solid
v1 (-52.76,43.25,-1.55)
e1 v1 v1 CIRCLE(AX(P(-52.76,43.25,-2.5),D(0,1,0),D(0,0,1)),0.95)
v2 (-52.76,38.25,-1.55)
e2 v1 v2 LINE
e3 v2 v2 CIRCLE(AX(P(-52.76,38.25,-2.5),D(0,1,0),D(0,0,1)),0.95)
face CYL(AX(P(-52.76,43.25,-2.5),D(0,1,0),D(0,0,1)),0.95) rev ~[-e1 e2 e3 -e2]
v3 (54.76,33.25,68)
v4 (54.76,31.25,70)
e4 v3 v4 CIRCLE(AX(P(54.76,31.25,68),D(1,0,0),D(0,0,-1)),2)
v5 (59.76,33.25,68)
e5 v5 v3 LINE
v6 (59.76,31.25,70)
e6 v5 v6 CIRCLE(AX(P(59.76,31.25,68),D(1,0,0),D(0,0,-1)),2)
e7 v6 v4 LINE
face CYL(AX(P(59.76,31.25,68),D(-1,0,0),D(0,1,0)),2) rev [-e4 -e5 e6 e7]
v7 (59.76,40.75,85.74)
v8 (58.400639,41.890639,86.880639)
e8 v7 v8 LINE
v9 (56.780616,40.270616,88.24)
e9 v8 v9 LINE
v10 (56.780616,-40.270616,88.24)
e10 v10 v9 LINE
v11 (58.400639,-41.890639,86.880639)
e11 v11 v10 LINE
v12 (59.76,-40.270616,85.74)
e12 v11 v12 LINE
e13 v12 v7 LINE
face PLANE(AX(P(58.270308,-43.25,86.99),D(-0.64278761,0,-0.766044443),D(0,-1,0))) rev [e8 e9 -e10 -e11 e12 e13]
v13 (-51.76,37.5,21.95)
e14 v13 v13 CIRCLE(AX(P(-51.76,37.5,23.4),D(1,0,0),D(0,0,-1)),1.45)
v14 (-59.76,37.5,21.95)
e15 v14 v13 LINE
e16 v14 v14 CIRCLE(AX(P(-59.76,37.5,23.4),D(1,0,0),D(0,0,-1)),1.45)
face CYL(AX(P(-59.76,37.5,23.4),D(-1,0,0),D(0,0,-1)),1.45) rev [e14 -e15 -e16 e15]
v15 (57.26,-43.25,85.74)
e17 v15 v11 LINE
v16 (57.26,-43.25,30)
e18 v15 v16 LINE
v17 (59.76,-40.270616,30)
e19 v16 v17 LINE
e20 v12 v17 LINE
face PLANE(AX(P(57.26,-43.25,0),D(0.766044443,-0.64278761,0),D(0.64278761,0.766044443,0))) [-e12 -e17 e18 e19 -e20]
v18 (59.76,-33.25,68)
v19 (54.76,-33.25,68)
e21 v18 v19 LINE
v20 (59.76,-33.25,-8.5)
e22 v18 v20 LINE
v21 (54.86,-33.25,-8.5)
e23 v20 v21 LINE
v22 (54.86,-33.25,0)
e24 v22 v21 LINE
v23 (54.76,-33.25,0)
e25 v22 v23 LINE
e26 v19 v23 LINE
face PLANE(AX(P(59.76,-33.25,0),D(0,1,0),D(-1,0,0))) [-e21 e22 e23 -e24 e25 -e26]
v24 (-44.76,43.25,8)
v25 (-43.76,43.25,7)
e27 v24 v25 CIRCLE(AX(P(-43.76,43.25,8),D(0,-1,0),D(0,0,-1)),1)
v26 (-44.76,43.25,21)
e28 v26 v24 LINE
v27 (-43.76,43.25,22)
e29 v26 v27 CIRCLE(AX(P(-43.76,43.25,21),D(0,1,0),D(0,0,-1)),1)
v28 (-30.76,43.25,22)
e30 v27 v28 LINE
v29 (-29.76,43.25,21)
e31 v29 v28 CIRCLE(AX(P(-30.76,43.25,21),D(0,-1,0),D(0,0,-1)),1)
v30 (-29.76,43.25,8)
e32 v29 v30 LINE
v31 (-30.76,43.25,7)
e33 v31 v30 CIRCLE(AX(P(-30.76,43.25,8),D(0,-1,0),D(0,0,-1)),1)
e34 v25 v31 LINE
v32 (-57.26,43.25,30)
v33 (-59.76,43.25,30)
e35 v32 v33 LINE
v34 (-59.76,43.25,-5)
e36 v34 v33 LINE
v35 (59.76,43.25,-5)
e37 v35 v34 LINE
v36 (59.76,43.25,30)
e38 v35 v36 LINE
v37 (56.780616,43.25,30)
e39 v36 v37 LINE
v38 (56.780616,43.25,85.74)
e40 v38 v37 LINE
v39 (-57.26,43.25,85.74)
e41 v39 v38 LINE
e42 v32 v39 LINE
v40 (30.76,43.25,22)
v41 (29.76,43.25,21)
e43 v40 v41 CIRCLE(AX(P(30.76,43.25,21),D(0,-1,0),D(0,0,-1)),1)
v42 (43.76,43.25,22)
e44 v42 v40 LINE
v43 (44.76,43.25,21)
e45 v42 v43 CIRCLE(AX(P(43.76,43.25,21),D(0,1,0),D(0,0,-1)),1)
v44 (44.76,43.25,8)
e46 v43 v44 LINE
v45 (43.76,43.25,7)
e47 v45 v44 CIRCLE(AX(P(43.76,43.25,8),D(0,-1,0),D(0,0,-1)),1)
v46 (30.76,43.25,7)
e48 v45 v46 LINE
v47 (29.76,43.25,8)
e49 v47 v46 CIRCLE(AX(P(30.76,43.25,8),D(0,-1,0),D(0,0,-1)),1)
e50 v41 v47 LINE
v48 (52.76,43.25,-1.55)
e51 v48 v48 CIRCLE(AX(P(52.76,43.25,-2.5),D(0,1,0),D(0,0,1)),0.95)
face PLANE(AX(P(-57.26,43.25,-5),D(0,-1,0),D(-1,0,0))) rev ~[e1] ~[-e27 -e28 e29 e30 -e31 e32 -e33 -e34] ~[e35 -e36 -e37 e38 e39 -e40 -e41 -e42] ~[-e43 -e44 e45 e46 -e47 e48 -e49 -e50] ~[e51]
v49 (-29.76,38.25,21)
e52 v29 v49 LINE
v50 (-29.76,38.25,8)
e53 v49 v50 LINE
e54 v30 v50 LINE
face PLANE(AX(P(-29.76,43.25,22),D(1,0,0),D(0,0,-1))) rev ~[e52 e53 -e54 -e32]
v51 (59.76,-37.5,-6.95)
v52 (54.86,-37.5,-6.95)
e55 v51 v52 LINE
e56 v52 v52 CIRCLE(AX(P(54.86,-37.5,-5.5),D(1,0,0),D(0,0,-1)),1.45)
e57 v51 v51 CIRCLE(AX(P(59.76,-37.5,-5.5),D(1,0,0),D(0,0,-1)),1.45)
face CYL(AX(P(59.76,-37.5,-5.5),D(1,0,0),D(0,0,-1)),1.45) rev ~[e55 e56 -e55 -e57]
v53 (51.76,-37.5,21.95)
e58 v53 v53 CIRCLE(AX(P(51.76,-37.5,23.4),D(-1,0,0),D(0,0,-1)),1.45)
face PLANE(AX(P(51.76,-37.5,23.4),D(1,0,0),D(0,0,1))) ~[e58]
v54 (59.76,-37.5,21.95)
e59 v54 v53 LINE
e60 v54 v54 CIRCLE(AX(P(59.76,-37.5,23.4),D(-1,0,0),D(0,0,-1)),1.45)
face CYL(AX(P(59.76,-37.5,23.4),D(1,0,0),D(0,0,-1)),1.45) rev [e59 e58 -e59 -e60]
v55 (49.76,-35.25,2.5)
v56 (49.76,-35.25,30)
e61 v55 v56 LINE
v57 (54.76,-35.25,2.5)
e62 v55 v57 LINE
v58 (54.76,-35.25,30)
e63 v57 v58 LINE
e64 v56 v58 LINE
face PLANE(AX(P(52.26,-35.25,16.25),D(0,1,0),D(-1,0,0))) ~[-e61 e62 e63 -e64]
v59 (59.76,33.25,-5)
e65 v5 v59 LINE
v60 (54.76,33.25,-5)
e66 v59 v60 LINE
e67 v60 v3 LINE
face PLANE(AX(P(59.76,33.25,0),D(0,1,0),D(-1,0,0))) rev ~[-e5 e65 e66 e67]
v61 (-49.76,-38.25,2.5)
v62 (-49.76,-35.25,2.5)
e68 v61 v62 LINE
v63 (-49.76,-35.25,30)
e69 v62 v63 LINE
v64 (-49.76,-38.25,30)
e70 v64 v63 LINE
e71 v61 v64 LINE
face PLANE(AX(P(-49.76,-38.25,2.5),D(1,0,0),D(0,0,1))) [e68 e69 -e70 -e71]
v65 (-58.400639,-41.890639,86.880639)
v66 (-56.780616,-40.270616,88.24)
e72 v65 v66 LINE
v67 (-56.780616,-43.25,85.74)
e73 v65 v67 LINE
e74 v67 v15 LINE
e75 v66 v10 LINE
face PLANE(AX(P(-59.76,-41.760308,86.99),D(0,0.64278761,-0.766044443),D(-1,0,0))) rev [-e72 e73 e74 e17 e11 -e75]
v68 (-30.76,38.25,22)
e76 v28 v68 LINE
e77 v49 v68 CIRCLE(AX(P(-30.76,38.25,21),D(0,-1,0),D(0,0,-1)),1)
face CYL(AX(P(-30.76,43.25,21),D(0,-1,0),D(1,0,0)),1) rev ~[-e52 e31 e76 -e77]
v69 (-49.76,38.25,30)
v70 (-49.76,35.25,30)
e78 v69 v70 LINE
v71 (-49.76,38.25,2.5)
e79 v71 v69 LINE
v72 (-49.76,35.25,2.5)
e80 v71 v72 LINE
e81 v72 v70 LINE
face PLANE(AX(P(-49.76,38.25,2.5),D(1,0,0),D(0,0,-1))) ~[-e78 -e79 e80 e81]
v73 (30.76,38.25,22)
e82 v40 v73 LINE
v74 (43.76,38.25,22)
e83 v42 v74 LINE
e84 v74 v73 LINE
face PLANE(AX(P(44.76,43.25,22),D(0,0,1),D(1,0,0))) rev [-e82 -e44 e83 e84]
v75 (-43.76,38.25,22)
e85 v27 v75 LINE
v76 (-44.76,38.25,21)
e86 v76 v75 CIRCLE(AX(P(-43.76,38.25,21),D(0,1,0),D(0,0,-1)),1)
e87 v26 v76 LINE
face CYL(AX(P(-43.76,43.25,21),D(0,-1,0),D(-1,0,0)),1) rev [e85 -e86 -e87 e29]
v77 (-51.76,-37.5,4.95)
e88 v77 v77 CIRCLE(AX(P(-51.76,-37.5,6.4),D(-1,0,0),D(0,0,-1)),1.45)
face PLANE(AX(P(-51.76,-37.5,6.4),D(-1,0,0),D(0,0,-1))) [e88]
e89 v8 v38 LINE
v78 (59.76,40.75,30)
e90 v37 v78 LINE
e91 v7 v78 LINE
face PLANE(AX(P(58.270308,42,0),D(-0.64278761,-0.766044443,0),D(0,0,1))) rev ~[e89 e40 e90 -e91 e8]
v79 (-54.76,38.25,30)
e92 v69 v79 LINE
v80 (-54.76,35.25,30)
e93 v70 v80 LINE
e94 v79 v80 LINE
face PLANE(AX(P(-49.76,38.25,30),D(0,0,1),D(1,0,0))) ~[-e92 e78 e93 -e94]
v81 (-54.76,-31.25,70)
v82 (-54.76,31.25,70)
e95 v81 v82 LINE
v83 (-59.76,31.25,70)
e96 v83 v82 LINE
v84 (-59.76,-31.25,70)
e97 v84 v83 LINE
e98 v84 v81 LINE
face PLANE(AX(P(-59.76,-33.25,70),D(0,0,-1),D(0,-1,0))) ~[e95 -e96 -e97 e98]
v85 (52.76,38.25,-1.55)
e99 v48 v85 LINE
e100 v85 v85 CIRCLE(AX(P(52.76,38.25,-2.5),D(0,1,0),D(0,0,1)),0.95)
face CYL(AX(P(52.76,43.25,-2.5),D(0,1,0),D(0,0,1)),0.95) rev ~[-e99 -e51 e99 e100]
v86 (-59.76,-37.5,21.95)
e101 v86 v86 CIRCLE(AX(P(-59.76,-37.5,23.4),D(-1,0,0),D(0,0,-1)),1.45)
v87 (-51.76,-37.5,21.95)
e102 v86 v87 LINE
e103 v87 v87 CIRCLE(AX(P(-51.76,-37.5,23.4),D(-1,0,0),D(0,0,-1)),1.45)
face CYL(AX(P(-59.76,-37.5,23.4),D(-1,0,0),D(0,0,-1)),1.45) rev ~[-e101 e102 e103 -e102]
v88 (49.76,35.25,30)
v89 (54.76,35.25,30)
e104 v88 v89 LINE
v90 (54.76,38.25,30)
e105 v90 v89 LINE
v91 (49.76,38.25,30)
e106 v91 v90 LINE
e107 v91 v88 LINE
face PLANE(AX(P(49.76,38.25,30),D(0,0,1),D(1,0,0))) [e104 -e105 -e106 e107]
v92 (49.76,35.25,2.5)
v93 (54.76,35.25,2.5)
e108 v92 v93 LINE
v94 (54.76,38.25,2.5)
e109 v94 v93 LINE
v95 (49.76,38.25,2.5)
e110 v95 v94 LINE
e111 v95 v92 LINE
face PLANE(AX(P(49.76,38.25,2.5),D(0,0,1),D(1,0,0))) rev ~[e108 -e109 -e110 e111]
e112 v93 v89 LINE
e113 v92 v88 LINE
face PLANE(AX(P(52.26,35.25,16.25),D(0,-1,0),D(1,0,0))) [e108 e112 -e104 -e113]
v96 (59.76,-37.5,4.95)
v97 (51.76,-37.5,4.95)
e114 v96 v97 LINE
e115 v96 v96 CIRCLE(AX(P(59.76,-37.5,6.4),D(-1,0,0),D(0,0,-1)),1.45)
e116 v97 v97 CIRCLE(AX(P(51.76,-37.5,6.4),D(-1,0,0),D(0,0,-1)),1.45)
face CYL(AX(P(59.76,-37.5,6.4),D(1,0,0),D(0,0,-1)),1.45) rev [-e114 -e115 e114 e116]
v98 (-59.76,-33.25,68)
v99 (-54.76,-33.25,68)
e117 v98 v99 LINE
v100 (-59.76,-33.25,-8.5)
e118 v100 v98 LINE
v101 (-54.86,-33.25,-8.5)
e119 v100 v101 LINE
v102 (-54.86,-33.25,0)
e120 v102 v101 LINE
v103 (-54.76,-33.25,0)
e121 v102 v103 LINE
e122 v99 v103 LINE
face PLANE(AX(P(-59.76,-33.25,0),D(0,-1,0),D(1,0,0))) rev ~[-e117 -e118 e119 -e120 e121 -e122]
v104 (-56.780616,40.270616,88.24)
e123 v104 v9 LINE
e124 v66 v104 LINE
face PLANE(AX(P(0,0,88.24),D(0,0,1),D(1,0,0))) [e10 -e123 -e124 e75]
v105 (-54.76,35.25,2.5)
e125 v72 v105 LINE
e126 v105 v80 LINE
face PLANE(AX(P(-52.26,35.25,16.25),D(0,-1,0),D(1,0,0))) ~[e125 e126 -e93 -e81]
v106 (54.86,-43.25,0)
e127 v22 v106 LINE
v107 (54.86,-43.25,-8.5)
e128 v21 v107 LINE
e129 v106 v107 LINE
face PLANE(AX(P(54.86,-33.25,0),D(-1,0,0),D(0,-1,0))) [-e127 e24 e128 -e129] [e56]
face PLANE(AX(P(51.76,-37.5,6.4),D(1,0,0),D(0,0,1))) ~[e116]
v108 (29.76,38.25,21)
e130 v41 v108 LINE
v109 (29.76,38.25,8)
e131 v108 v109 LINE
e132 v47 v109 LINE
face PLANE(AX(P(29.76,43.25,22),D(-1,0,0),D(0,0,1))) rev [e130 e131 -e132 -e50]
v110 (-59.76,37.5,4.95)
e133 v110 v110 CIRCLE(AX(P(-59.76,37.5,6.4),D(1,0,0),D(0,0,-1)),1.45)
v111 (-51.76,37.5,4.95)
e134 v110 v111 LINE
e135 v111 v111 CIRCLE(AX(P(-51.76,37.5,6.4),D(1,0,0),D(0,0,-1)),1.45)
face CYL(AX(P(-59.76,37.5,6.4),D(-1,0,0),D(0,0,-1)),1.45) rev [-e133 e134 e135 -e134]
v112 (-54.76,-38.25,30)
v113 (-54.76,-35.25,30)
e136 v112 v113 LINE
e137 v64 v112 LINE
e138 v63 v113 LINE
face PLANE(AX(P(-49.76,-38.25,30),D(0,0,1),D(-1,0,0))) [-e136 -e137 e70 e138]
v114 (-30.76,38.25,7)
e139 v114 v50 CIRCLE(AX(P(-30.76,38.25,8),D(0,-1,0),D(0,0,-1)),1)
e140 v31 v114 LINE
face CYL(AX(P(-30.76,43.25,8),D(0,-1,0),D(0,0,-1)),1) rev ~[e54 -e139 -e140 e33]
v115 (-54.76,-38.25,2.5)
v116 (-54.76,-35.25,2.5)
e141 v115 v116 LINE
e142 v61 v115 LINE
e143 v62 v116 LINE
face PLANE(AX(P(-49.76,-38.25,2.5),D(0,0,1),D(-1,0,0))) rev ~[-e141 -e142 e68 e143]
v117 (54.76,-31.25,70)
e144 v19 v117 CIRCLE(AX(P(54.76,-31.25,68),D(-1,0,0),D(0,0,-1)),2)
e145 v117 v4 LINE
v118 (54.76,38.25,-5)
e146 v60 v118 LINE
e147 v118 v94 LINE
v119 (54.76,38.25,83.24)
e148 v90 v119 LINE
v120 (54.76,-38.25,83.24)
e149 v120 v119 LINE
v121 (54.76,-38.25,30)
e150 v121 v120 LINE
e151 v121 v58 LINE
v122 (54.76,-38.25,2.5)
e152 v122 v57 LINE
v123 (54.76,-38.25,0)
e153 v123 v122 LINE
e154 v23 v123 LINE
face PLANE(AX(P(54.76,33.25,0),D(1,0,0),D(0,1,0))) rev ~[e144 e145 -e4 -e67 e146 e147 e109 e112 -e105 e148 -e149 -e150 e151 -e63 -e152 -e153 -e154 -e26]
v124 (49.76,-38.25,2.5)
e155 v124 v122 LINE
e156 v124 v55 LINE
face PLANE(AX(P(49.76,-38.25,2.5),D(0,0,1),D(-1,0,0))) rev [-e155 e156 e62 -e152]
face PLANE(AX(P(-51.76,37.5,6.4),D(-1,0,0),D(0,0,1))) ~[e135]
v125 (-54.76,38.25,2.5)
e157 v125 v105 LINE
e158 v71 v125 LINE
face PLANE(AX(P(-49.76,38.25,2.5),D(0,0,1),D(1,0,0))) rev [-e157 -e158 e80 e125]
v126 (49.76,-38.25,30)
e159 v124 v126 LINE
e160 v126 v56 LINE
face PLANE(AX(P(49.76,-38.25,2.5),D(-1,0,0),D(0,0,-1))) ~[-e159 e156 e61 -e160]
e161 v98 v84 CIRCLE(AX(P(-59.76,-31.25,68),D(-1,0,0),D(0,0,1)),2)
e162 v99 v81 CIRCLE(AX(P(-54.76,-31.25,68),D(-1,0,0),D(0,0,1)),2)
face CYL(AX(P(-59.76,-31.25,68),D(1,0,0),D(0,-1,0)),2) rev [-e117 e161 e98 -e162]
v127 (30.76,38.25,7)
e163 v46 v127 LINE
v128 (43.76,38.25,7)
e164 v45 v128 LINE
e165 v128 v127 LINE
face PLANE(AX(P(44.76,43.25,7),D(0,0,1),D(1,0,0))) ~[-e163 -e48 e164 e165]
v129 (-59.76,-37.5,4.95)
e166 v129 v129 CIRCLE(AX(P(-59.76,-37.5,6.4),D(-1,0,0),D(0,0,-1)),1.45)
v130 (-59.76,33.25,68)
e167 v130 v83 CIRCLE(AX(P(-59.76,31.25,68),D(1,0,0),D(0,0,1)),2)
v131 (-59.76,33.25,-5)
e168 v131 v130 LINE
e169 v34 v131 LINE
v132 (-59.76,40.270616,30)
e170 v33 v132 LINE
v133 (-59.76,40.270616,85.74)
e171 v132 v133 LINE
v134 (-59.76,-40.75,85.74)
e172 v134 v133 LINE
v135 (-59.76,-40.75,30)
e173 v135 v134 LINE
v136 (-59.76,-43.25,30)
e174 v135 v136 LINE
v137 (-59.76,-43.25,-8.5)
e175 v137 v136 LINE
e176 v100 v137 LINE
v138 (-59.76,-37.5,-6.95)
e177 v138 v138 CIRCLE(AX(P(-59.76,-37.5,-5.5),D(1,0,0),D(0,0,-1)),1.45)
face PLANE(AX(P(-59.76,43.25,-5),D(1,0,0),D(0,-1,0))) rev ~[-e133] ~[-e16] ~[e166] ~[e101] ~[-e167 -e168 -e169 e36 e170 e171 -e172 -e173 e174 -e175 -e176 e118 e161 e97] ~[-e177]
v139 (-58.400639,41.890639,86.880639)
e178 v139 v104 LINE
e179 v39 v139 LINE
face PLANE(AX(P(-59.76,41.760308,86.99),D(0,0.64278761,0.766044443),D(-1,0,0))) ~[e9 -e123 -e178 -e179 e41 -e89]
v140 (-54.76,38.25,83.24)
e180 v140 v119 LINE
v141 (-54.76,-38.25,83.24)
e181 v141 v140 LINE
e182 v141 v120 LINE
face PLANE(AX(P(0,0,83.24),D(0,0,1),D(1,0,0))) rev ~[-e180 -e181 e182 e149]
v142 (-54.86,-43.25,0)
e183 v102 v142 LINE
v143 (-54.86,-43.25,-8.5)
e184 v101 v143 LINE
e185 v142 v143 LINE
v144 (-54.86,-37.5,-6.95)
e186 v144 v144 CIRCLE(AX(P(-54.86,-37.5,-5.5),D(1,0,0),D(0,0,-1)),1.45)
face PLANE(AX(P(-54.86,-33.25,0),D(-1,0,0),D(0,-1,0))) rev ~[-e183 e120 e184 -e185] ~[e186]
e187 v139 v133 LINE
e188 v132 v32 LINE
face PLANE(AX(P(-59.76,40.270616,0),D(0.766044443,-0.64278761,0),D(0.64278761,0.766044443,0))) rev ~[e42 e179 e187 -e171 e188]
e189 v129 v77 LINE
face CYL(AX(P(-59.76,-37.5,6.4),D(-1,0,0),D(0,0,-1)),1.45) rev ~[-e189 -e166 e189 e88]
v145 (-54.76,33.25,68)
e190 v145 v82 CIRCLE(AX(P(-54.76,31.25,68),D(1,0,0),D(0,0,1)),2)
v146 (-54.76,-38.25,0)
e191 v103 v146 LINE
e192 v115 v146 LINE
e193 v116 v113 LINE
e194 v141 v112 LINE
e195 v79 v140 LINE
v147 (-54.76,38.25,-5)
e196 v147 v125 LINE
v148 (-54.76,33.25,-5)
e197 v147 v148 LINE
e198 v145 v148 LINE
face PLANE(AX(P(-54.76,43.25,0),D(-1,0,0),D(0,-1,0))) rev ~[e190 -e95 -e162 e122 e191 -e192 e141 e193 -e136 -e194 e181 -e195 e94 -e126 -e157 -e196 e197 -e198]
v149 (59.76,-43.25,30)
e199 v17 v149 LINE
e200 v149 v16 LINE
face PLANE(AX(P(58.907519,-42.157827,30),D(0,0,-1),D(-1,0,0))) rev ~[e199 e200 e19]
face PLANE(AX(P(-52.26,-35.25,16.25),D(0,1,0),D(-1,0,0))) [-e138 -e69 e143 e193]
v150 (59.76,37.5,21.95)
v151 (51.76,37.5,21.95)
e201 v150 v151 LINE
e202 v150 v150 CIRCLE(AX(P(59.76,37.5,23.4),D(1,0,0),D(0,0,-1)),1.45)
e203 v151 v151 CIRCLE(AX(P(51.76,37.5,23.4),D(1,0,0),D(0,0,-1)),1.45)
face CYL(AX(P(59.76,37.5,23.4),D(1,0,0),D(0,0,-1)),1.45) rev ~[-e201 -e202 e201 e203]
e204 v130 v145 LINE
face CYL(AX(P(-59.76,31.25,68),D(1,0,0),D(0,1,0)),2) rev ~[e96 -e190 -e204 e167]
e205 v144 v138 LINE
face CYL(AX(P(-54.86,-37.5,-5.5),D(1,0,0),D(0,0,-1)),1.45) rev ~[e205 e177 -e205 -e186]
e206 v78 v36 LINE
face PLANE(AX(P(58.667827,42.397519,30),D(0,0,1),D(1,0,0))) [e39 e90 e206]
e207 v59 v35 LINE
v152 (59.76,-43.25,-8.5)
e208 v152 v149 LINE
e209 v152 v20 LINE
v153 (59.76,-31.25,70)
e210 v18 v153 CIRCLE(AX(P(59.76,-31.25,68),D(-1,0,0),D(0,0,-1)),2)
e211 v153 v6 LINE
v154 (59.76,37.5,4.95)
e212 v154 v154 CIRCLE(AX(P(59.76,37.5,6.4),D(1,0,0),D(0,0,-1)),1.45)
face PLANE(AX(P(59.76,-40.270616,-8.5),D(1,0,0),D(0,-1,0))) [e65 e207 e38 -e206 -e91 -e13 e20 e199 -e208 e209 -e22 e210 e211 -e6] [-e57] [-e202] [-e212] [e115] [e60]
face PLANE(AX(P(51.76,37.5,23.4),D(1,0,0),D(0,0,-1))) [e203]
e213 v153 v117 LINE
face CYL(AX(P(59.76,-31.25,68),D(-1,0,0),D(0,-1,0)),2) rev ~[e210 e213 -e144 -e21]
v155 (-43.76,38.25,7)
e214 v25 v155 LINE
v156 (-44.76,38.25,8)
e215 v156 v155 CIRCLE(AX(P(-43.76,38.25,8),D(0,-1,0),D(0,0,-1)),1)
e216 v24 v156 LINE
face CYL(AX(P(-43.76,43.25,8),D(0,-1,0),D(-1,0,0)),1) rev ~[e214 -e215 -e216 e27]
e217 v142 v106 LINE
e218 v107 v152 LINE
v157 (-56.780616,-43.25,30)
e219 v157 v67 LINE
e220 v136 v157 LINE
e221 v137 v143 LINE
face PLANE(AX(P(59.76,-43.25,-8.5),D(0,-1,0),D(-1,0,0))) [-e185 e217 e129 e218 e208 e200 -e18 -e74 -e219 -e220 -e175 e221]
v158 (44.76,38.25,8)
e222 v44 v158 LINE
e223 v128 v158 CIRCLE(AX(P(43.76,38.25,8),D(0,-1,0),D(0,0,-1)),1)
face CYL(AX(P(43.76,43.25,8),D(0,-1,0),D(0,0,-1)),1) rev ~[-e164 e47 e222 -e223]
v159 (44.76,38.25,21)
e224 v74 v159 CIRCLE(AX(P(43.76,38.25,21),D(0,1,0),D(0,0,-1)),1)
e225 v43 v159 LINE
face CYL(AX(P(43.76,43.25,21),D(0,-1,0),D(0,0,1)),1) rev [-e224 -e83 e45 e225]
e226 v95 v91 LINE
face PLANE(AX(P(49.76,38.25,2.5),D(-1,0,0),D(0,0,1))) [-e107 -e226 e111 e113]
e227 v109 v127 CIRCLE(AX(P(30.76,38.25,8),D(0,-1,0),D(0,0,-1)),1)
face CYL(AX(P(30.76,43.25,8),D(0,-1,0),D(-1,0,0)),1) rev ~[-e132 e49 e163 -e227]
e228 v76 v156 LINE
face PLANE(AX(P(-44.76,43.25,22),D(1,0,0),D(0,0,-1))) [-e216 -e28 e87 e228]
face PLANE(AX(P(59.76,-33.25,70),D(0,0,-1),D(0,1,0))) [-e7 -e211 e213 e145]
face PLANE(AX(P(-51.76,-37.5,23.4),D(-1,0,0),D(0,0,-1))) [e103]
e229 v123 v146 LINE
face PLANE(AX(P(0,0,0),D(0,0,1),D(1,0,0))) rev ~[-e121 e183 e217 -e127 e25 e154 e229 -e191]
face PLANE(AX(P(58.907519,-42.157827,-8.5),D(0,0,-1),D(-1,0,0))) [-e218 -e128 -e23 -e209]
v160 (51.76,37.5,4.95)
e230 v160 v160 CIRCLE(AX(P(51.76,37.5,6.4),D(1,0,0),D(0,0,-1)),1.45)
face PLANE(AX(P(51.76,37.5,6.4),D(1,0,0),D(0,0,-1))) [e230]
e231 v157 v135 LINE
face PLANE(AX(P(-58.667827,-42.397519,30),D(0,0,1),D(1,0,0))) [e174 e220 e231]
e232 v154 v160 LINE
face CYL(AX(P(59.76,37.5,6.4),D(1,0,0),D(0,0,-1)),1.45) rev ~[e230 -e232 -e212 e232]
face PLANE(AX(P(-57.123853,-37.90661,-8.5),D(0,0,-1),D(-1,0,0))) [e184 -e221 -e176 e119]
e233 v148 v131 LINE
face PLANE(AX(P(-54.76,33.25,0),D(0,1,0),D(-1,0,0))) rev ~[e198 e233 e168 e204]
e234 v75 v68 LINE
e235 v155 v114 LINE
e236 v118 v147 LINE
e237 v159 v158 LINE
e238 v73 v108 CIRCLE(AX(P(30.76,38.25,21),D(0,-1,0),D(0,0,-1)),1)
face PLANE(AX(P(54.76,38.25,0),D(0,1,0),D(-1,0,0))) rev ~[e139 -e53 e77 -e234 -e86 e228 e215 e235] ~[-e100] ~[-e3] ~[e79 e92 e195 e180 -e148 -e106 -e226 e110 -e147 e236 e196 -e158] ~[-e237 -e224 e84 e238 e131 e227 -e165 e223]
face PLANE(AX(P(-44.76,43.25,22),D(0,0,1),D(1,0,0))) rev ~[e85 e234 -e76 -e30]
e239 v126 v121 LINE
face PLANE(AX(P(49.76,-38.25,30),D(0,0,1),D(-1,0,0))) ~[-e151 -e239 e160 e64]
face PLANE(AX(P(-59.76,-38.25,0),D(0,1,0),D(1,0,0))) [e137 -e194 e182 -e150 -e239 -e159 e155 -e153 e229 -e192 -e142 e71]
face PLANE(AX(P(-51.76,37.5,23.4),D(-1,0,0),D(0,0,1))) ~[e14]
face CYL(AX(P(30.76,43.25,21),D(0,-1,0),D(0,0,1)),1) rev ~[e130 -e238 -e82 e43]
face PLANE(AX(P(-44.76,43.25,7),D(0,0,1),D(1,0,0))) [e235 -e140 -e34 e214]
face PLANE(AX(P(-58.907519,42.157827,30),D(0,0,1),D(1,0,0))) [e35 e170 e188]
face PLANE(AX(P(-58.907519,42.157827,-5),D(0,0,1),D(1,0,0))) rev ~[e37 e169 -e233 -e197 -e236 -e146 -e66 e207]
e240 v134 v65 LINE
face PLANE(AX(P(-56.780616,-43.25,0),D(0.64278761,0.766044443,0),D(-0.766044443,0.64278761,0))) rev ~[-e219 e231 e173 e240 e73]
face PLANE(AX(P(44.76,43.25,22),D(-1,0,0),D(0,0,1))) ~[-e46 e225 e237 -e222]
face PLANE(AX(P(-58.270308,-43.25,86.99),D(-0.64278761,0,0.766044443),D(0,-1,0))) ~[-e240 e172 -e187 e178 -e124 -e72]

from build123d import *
from OCP.BRepFilletAPI import BRepFilletAPI_MakeChamfer

# Parameters (mm, degrees)
SKETCH1_W                                  = 119.52
SKETCH1_H                                  = 86.5
BOSS_EXTRUDE1_DEPTH                        = 88.24
SHELL1_T                                   = -5
CHAMFER1_SIZE                              = 2.5
CHAMFER1_SIZE2                             = 2.979383981
CHAMFER2_SIZE                              = 2.5
CHAMFER2_SIZE2                             = 2.979383981
CHAMFER3_SIZE                              = 2.5
CHAMFER3_SIZE2                             = 2.979383981
CUT_EXTRUDE1_REACH                         = 156.732
SKETCH3_W                                  = 70
SKETCH3_H                                  = 66.5
FILLET1_R                                  = 2
FILLET1_OF_MIRROR1_R                       = 2
SKETCH4_W                                  = 109.52
SKETCH4_H                                  = 5
BOSS_EXTRUDE2_DEPTH                        = 5
CUT_EXTRUDE2_REACH                         = 139.258
SKETCH5_R                                  = 0.95
BOSS_EXTRUDE3_DEPTH                        = 8.5
BOSS_EXTRUDE4_DEPTH                        = 5
BOSS_EXTRUDE6_DEPTH                        = 35
BOSS_EXTRUDE7_DEPTH                        = 8.5
BOSS_EXTRUDE8_DEPTH                        = 35
BOSS_EXTRUDE9_DEPTH                        = 38.5
SKETCH16_W                                 = 5
SKETCH16_H                                 = 27.5
BOSS_EXTRUDE10_DEPTH                       = 3
MIRROR7_COPY_1_SKETCH_W                    = 5
MIRROR7_COPY_1_SKETCH_H                    = 27.5
MIRROR7_COPY_1_DEPTH                       = 3
SKETCH15_R                                 = 1.45
CUT_EXTRUDE5_DEPTH                         = 8
MIRROR8_AT_THE_SECOND_PLANE_COPY_1_SKETC_R = 1.45
MIRROR8_AT_THE_SECOND_PLANE_COPY_1_DEPTH   = 8
SKETCH17_R                                 = 1.45
CUT_EXTRUDE6_DEPTH                         = 8
SKETCH18_R                                 = 1.45
CUT_EXTRUDE7_DEPTH                         = 8
SKETCH19_W                                 = 15
SKETCH19_H                                 = 15
CUT_EXTRUDE8_DEPTH                         = 5
FILLET2_R                                  = 1
FILLET2_OF_MIRROR10_R                      = 1


with BuildPart() as part:
    # Sketch1 → Boss-Extrude1 (new body)
    with BuildSketch(Plane.XY):
        Rectangle(SKETCH1_W, SKETCH1_H)
    extrude(amount=BOSS_EXTRUDE1_DEPTH)

    # Shell1
    shell1_openings = [part.faces().sort_by_distance(p)[0] for p in [
        (0, 0, 0),
    ]]
    offset(amount=SHELL1_T, openings=shell1_openings, kind=Kind.INTERSECTION)

    # Chamfer1: one chamfer whose edges measure the first distance from different faces: ONE call of the kernel's chamfer builder (chamfer() names one face for all edges)
    chamfer1_edges_1 = [part.edges().sort_by_distance(p)[0] for p in [
        (59.76, 0, 88.24),
    ]]
    chamfer1_side_1 = [part.faces().sort_by_distance(p)[0] for p in [
        (59.76, 0, 44.12),
    ]]
    chamfer1_edges_2 = [part.edges().sort_by_distance(p)[0] for p in [
        (0, 43.25, 88.24),
    ]]
    chamfer1_side_2 = [part.faces().sort_by_distance(p)[0] for p in [
        (0, 43.25, 44.12),
    ]]
    chamfer1_edges_3 = [part.edges().sort_by_distance(p)[0] for p in [
        (-59.76, 0, 88.24),
    ]]
    chamfer1_side_3 = [part.faces().sort_by_distance(p)[0] for p in [
        (-59.76, 0, 44.12),
    ]]
    chamfer1_edges_4 = [part.edges().sort_by_distance(p)[0] for p in [
        (0, -43.25, 88.24),
    ]]
    chamfer1_side_4 = [part.faces().sort_by_distance(p)[0] for p in [
        (0, -43.25, 44.12),
    ]]
    chamfer1 = BRepFilletAPI_MakeChamfer(part.part.solid().wrapped)
    for e in chamfer1_edges_1:
        chamfer1.Add(CHAMFER1_SIZE, CHAMFER1_SIZE2, e.wrapped, chamfer1_side_1[0].wrapped)  # the first distance lies on this face
    for e in chamfer1_edges_2:
        chamfer1.Add(CHAMFER1_SIZE, CHAMFER1_SIZE2, e.wrapped, chamfer1_side_2[0].wrapped)  # the first distance lies on this face
    for e in chamfer1_edges_3:
        chamfer1.Add(CHAMFER1_SIZE, CHAMFER1_SIZE2, e.wrapped, chamfer1_side_3[0].wrapped)  # the first distance lies on this face
    for e in chamfer1_edges_4:
        chamfer1.Add(CHAMFER1_SIZE, CHAMFER1_SIZE2, e.wrapped, chamfer1_side_4[0].wrapped)  # the first distance lies on this face
    add(Compound.cast(chamfer1.Shape()), mode=Mode.REPLACE)

    # Chamfer2
    chamfer2_edges = [part.edges().sort_by_distance(p)[0] for p in [
        (-59.76, 43.25, 42.87),
    ]]
    chamfer2_side = [part.faces().sort_by_distance(p)[0] for p in [
        (0, 43.25, 42.87),
    ]]
    chamfer(chamfer2_edges, length=CHAMFER2_SIZE, length2=CHAMFER2_SIZE2, reference=chamfer2_side[0])

    # Chamfer3: one chamfer whose edges measure the first distance from different faces: ONE call of the kernel's chamfer builder (chamfer() names one face for all edges)
    chamfer3_edges_1 = [part.edges().sort_by_distance(p)[0] for p in [
        (59.76, -43.25, 42.87),
    ]]
    chamfer3_side_1 = [part.faces().sort_by_distance(p)[0] for p in [
        (0, -43.25, 42.87),
    ]]
    chamfer3_edges_2 = [part.edges().sort_by_distance(p)[0] for p in [
        (-59.76, -43.25, 42.87),
    ]]
    chamfer3_side_2 = [part.faces().sort_by_distance(p)[0] for p in [
        (-59.76, -1.489691991, 42.87),
    ]]
    chamfer3_edges_3 = [part.edges().sort_by_distance(p)[0] for p in [
        (59.76, 43.25, 42.87),
    ]]
    chamfer3_side_3 = [part.faces().sort_by_distance(p)[0] for p in [
        (59.76, 0, 42.87),
    ]]
    chamfer3 = BRepFilletAPI_MakeChamfer(part.part.solid().wrapped)
    for e in chamfer3_edges_1:
        chamfer3.Add(CHAMFER3_SIZE, CHAMFER3_SIZE2, e.wrapped, chamfer3_side_1[0].wrapped)  # the first distance lies on this face
    for e in chamfer3_edges_2:
        chamfer3.Add(CHAMFER3_SIZE, CHAMFER3_SIZE2, e.wrapped, chamfer3_side_2[0].wrapped)  # the first distance lies on this face
    for e in chamfer3_edges_3:
        chamfer3.Add(CHAMFER3_SIZE, CHAMFER3_SIZE2, e.wrapped, chamfer3_side_3[0].wrapped)  # the first distance lies on this face
    add(Compound.cast(chamfer3.Shape()), mode=Mode.REPLACE)

    # Sketch3 → Cut-Extrude1 (cut, up to next)
    with BuildSketch(Plane(origin=(59.76, 0, 0), x_dir=(0, 0, -1), z_dir=(1, 0, 0)), mode=Mode.PRIVATE) as cut_extrude1_sk1:
        with Locations((-35, 0)):
            Rectangle(SKETCH3_W, SKETCH3_H)
    cut_extrude1_tool1 = extrude(cut_extrude1_sk1.sketch, amount=-CUT_EXTRUDE1_REACH, mode=Mode.PRIVATE) & part.part
    cut_extrude1 = cut_extrude1_tool1.solids().sort_by_distance((59.76, 0, 35))[0]
    add(cut_extrude1, mode=Mode.SUBTRACT)

    # Fillet1
    fillet1_edges = [part.edges().sort_by_distance(p)[0] for p in [
        (57.26, -33.25, 70),
        (57.26, 33.25, 70),
    ]]
    fillet(fillet1_edges, radius=FILLET1_R)

    # Mirror1: Cut-Extrude1 across plane
    add(cut_extrude1.mirror(Plane(origin=(0, 0, 0), x_dir=(0, 0, 1), z_dir=(1, 0, 0))), mode=Mode.SUBTRACT)

    # Fillet1 of Mirror1
    fillet1_of_mirror1_edges = [part.edges().sort_by_distance(p)[0] for p in [
        (-57.26, -33.25, 70),
        (-57.26, 33.25, 70),
    ]]
    fillet(fillet1_of_mirror1_edges, radius=FILLET1_OF_MIRROR1_R)

    # Sketch4 → Boss-Extrude2 (add)
    with BuildSketch(Plane(origin=(0, 0, 0), x_dir=(-1, 0, 0), z_dir=(0, 0, -1))):
        with Locations((0, 40.75)):
            Rectangle(SKETCH4_W, SKETCH4_H)
    extrude(amount=BOSS_EXTRUDE2_DEPTH)

    # Sketch5 → Cut-Extrude2 (cut, up to next)
    with BuildSketch(Plane(origin=(0, 43.25, 0), x_dir=(1, 0, 0), z_dir=(0, 1, 0)), mode=Mode.PRIVATE) as cut_extrude2_sk1:
        with Locations(Location((-52.76, 2.5, 0), (0, 0, 270))):
            Circle(SKETCH5_R)
    cut_extrude2_tool1 = extrude(cut_extrude2_sk1.sketch, amount=-CUT_EXTRUDE2_REACH, mode=Mode.PRIVATE) & part.part
    # Sketch5 → Cut-Extrude2 (cut, up to next)
    with BuildSketch(Plane(origin=(0, 43.25, 0), x_dir=(1, 0, 0), z_dir=(0, 1, 0)), mode=Mode.PRIVATE) as cut_extrude2_sk2:
        with Locations(Location((52.76, 2.5, 0), (0, 0, 270))):
            Circle(SKETCH5_R)
    cut_extrude2_tool2 = extrude(cut_extrude2_sk2.sketch, amount=-CUT_EXTRUDE2_REACH, mode=Mode.PRIVATE) & part.part
    add(cut_extrude2_tool1.solids().sort_by_distance((-52.76, 43.25, -2.5))[0], mode=Mode.SUBTRACT)
    add(cut_extrude2_tool2.solids().sort_by_distance((52.76, 43.25, -2.5))[0], mode=Mode.SUBTRACT)

    # Sketch6 → Boss-Extrude3 (add)
    with BuildSketch(Plane(origin=(0, 0, 0), x_dir=(-1, 0, 0), z_dir=(0, 0, -1))):
        Polygon((-59.76, -33.25), (-54.86, -33.25), (-54.86, -43.25), (-57.26, -43.25), (-59.76, -40.270616019), align=None)
    extrude(amount=BOSS_EXTRUDE3_DEPTH)

    # Sketch8 → Boss-Extrude4 (add)
    with BuildSketch(Plane(origin=(0, 0, 0), x_dir=(-1, 0, 0), z_dir=(0, 0, -1))):
        Polygon((57.26, 43.25), (54.76, 43.25), (54.76, 38.25), (54.76, 33.25), (59.76, 33.25), (59.76, 40.270616019), align=None)
        Polygon((-54.76, 33.25), (-54.76, 38.25), (-54.76, 43.25), (-56.780616019, 43.25), (-59.76, 40.75), (-59.76, 33.25), align=None)
    extrude(amount=BOSS_EXTRUDE4_DEPTH)

    # Sketch10 → Boss-Extrude6 (add)
    with BuildSketch(Plane(origin=(0, 0, -5), x_dir=(-1, 0, 0), z_dir=(0, 0, -1))):
        Polygon((-59.76, 40.75), (-59.76, 43.25), (-56.780616019, 43.25), align=None)
    extrude(amount=-BOSS_EXTRUDE6_DEPTH)

    # Sketch11 → Boss-Extrude7 (add)
    with BuildSketch(Plane(origin=(0, 0, 0), x_dir=(-1, 0, 0), z_dir=(0, 0, -1))):
        Polygon((59.76, -33.25), (54.86, -33.25), (54.86, -43.25), (56.780616019, -43.25), (59.76, -40.75), align=None)
    extrude(amount=BOSS_EXTRUDE7_DEPTH)

    # Sketch13 → Boss-Extrude8 (add)
    with BuildSketch(Plane(origin=(0, 0, -5), x_dir=(-1, 0, 0), z_dir=(0, 0, -1))):
        Polygon((57.26, 43.25), (59.76, 43.25), (59.76, 40.270616019), align=None)
    extrude(amount=-BOSS_EXTRUDE8_DEPTH)

    # Sketch14 → Boss-Extrude9 (add)
    with BuildSketch(Plane(origin=(0, 0, -8.5), x_dir=(-1, 0, 0), z_dir=(0, 0, -1))):
        Polygon((-59.76, -40.270616019), (-59.76, -43.25), (-57.26, -43.25), align=None)
        Polygon((59.76, -40.75), (59.76, -43.25), (56.780616019, -43.25), align=None)
    extrude(amount=-BOSS_EXTRUDE9_DEPTH)

    # Sketch16 → Boss-Extrude10 (add)
    with BuildSketch(Plane.XZ.offset(-38.25)):
        with Locations((52.26, 16.25)):
            Rectangle(SKETCH16_W, SKETCH16_H)
    boss_extrude10 = extrude(amount=BOSS_EXTRUDE10_DEPTH)

    # Mirror6: Boss-Extrude10 across plane
    add(boss_extrude10.mirror(Plane(origin=(0, 0, 0), x_dir=(0, 0, 1), z_dir=(1, 0, 0))))

    # Mirror7: Boss-Extrude10 across plane
    add(boss_extrude10.mirror(Plane.ZX))

    # Mirror7 copy 1 sketch → Mirror7 copy 1 (add)
    with BuildSketch(Plane(origin=(0, -38.25, 0), x_dir=(-1, 0, 0), z_dir=(0, 1, 0))):
        with Locations((52.26, 16.25)):
            Rectangle(MIRROR7_COPY_1_SKETCH_W, MIRROR7_COPY_1_SKETCH_H)
    extrude(amount=MIRROR7_COPY_1_DEPTH)

    # Sketch15 → Cut-Extrude5 (cut)
    with BuildSketch(Plane(origin=(59.76, 0, 0), x_dir=(0, 0, -1), z_dir=(1, 0, 0))):
        with Locations((-6.4, 37.5)):
            Circle(SKETCH15_R)
        with Locations((-23.4, 37.5)):
            Circle(SKETCH15_R)
    cut_extrude5 = extrude(amount=-CUT_EXTRUDE5_DEPTH, mode=Mode.SUBTRACT)

    # Mirror8: Cut-Extrude5 across plane
    add(cut_extrude5.mirror(Plane.ZX), mode=Mode.SUBTRACT)

    # Mirror8 at the second plane: Cut-Extrude5 across plane
    add(cut_extrude5.mirror(Plane(origin=(0, 0, 0), x_dir=(0, 0, 1), z_dir=(1, 0, 0))), mode=Mode.SUBTRACT)

    # Mirror8 at the second plane copy 1 sketc → Mirror8 at the second plane copy 1 (cut)
    with BuildSketch(Plane(origin=(-59.76, 0, 0), x_dir=(0, 0, -1), z_dir=(-1, 0, 0))):
        with Locations((-6.4, 37.5)):
            Circle(MIRROR8_AT_THE_SECOND_PLANE_COPY_1_SKETC_R)
        with Locations((-23.4, 37.5)):
            Circle(MIRROR8_AT_THE_SECOND_PLANE_COPY_1_SKETC_R)
    extrude(amount=-MIRROR8_AT_THE_SECOND_PLANE_COPY_1_DEPTH, mode=Mode.SUBTRACT)

    # Sketch17 → Cut-Extrude6 (cut)
    with BuildSketch(Plane(origin=(59.76, 0, 0), x_dir=(0, 0, -1), z_dir=(1, 0, 0))):
        with Locations((5.5, -37.5)):
            Circle(SKETCH17_R)
    extrude(amount=-CUT_EXTRUDE6_DEPTH, mode=Mode.SUBTRACT)

    # Sketch18 → Cut-Extrude7 (cut)
    with BuildSketch(Plane(origin=(-54.86, 0, 0), x_dir=(0, 0, -1), z_dir=(1, 0, 0))):
        with Locations((5.5, -37.5)):
            Circle(SKETCH18_R)
    extrude(amount=-CUT_EXTRUDE7_DEPTH, mode=Mode.SUBTRACT)

    # Sketch19 → Cut-Extrude8 (cut)
    with BuildSketch(Plane(origin=(0, 43.25, 0), x_dir=(1, 0, 0), z_dir=(0, 1, 0))):
        with Locations((-37.26, -14.5)):
            Rectangle(SKETCH19_W, SKETCH19_H)
    cut_extrude8 = extrude(amount=-CUT_EXTRUDE8_DEPTH, mode=Mode.SUBTRACT)

    # Fillet2
    fillet2_edges = [part.edges().sort_by_distance(p)[0] for p in [
        (-44.76, 40.75, 22),
        (-44.76, 40.75, 7),
        (-29.76, 40.75, 7),
        (-29.76, 40.75, 22),
    ]]
    fillet(fillet2_edges, radius=FILLET2_R)

    # Mirror10: Cut-Extrude8 across plane
    add(cut_extrude8.mirror(Plane(origin=(0, 0, 0), x_dir=(0, 0, 1), z_dir=(1, 0, 0))), mode=Mode.SUBTRACT)

    # Fillet2 of Mirror10
    fillet2_of_mirror10_edges = [part.edges().sort_by_distance(p)[0] for p in [
        (44.76, 40.75, 22),
        (44.76, 40.75, 7),
        (29.76, 40.75, 7),
        (29.76, 40.75, 22),
    ]]
    fillet(fillet2_of_mirror10_edges, radius=FILLET2_OF_MIRROR10_R)


solid = part.part
